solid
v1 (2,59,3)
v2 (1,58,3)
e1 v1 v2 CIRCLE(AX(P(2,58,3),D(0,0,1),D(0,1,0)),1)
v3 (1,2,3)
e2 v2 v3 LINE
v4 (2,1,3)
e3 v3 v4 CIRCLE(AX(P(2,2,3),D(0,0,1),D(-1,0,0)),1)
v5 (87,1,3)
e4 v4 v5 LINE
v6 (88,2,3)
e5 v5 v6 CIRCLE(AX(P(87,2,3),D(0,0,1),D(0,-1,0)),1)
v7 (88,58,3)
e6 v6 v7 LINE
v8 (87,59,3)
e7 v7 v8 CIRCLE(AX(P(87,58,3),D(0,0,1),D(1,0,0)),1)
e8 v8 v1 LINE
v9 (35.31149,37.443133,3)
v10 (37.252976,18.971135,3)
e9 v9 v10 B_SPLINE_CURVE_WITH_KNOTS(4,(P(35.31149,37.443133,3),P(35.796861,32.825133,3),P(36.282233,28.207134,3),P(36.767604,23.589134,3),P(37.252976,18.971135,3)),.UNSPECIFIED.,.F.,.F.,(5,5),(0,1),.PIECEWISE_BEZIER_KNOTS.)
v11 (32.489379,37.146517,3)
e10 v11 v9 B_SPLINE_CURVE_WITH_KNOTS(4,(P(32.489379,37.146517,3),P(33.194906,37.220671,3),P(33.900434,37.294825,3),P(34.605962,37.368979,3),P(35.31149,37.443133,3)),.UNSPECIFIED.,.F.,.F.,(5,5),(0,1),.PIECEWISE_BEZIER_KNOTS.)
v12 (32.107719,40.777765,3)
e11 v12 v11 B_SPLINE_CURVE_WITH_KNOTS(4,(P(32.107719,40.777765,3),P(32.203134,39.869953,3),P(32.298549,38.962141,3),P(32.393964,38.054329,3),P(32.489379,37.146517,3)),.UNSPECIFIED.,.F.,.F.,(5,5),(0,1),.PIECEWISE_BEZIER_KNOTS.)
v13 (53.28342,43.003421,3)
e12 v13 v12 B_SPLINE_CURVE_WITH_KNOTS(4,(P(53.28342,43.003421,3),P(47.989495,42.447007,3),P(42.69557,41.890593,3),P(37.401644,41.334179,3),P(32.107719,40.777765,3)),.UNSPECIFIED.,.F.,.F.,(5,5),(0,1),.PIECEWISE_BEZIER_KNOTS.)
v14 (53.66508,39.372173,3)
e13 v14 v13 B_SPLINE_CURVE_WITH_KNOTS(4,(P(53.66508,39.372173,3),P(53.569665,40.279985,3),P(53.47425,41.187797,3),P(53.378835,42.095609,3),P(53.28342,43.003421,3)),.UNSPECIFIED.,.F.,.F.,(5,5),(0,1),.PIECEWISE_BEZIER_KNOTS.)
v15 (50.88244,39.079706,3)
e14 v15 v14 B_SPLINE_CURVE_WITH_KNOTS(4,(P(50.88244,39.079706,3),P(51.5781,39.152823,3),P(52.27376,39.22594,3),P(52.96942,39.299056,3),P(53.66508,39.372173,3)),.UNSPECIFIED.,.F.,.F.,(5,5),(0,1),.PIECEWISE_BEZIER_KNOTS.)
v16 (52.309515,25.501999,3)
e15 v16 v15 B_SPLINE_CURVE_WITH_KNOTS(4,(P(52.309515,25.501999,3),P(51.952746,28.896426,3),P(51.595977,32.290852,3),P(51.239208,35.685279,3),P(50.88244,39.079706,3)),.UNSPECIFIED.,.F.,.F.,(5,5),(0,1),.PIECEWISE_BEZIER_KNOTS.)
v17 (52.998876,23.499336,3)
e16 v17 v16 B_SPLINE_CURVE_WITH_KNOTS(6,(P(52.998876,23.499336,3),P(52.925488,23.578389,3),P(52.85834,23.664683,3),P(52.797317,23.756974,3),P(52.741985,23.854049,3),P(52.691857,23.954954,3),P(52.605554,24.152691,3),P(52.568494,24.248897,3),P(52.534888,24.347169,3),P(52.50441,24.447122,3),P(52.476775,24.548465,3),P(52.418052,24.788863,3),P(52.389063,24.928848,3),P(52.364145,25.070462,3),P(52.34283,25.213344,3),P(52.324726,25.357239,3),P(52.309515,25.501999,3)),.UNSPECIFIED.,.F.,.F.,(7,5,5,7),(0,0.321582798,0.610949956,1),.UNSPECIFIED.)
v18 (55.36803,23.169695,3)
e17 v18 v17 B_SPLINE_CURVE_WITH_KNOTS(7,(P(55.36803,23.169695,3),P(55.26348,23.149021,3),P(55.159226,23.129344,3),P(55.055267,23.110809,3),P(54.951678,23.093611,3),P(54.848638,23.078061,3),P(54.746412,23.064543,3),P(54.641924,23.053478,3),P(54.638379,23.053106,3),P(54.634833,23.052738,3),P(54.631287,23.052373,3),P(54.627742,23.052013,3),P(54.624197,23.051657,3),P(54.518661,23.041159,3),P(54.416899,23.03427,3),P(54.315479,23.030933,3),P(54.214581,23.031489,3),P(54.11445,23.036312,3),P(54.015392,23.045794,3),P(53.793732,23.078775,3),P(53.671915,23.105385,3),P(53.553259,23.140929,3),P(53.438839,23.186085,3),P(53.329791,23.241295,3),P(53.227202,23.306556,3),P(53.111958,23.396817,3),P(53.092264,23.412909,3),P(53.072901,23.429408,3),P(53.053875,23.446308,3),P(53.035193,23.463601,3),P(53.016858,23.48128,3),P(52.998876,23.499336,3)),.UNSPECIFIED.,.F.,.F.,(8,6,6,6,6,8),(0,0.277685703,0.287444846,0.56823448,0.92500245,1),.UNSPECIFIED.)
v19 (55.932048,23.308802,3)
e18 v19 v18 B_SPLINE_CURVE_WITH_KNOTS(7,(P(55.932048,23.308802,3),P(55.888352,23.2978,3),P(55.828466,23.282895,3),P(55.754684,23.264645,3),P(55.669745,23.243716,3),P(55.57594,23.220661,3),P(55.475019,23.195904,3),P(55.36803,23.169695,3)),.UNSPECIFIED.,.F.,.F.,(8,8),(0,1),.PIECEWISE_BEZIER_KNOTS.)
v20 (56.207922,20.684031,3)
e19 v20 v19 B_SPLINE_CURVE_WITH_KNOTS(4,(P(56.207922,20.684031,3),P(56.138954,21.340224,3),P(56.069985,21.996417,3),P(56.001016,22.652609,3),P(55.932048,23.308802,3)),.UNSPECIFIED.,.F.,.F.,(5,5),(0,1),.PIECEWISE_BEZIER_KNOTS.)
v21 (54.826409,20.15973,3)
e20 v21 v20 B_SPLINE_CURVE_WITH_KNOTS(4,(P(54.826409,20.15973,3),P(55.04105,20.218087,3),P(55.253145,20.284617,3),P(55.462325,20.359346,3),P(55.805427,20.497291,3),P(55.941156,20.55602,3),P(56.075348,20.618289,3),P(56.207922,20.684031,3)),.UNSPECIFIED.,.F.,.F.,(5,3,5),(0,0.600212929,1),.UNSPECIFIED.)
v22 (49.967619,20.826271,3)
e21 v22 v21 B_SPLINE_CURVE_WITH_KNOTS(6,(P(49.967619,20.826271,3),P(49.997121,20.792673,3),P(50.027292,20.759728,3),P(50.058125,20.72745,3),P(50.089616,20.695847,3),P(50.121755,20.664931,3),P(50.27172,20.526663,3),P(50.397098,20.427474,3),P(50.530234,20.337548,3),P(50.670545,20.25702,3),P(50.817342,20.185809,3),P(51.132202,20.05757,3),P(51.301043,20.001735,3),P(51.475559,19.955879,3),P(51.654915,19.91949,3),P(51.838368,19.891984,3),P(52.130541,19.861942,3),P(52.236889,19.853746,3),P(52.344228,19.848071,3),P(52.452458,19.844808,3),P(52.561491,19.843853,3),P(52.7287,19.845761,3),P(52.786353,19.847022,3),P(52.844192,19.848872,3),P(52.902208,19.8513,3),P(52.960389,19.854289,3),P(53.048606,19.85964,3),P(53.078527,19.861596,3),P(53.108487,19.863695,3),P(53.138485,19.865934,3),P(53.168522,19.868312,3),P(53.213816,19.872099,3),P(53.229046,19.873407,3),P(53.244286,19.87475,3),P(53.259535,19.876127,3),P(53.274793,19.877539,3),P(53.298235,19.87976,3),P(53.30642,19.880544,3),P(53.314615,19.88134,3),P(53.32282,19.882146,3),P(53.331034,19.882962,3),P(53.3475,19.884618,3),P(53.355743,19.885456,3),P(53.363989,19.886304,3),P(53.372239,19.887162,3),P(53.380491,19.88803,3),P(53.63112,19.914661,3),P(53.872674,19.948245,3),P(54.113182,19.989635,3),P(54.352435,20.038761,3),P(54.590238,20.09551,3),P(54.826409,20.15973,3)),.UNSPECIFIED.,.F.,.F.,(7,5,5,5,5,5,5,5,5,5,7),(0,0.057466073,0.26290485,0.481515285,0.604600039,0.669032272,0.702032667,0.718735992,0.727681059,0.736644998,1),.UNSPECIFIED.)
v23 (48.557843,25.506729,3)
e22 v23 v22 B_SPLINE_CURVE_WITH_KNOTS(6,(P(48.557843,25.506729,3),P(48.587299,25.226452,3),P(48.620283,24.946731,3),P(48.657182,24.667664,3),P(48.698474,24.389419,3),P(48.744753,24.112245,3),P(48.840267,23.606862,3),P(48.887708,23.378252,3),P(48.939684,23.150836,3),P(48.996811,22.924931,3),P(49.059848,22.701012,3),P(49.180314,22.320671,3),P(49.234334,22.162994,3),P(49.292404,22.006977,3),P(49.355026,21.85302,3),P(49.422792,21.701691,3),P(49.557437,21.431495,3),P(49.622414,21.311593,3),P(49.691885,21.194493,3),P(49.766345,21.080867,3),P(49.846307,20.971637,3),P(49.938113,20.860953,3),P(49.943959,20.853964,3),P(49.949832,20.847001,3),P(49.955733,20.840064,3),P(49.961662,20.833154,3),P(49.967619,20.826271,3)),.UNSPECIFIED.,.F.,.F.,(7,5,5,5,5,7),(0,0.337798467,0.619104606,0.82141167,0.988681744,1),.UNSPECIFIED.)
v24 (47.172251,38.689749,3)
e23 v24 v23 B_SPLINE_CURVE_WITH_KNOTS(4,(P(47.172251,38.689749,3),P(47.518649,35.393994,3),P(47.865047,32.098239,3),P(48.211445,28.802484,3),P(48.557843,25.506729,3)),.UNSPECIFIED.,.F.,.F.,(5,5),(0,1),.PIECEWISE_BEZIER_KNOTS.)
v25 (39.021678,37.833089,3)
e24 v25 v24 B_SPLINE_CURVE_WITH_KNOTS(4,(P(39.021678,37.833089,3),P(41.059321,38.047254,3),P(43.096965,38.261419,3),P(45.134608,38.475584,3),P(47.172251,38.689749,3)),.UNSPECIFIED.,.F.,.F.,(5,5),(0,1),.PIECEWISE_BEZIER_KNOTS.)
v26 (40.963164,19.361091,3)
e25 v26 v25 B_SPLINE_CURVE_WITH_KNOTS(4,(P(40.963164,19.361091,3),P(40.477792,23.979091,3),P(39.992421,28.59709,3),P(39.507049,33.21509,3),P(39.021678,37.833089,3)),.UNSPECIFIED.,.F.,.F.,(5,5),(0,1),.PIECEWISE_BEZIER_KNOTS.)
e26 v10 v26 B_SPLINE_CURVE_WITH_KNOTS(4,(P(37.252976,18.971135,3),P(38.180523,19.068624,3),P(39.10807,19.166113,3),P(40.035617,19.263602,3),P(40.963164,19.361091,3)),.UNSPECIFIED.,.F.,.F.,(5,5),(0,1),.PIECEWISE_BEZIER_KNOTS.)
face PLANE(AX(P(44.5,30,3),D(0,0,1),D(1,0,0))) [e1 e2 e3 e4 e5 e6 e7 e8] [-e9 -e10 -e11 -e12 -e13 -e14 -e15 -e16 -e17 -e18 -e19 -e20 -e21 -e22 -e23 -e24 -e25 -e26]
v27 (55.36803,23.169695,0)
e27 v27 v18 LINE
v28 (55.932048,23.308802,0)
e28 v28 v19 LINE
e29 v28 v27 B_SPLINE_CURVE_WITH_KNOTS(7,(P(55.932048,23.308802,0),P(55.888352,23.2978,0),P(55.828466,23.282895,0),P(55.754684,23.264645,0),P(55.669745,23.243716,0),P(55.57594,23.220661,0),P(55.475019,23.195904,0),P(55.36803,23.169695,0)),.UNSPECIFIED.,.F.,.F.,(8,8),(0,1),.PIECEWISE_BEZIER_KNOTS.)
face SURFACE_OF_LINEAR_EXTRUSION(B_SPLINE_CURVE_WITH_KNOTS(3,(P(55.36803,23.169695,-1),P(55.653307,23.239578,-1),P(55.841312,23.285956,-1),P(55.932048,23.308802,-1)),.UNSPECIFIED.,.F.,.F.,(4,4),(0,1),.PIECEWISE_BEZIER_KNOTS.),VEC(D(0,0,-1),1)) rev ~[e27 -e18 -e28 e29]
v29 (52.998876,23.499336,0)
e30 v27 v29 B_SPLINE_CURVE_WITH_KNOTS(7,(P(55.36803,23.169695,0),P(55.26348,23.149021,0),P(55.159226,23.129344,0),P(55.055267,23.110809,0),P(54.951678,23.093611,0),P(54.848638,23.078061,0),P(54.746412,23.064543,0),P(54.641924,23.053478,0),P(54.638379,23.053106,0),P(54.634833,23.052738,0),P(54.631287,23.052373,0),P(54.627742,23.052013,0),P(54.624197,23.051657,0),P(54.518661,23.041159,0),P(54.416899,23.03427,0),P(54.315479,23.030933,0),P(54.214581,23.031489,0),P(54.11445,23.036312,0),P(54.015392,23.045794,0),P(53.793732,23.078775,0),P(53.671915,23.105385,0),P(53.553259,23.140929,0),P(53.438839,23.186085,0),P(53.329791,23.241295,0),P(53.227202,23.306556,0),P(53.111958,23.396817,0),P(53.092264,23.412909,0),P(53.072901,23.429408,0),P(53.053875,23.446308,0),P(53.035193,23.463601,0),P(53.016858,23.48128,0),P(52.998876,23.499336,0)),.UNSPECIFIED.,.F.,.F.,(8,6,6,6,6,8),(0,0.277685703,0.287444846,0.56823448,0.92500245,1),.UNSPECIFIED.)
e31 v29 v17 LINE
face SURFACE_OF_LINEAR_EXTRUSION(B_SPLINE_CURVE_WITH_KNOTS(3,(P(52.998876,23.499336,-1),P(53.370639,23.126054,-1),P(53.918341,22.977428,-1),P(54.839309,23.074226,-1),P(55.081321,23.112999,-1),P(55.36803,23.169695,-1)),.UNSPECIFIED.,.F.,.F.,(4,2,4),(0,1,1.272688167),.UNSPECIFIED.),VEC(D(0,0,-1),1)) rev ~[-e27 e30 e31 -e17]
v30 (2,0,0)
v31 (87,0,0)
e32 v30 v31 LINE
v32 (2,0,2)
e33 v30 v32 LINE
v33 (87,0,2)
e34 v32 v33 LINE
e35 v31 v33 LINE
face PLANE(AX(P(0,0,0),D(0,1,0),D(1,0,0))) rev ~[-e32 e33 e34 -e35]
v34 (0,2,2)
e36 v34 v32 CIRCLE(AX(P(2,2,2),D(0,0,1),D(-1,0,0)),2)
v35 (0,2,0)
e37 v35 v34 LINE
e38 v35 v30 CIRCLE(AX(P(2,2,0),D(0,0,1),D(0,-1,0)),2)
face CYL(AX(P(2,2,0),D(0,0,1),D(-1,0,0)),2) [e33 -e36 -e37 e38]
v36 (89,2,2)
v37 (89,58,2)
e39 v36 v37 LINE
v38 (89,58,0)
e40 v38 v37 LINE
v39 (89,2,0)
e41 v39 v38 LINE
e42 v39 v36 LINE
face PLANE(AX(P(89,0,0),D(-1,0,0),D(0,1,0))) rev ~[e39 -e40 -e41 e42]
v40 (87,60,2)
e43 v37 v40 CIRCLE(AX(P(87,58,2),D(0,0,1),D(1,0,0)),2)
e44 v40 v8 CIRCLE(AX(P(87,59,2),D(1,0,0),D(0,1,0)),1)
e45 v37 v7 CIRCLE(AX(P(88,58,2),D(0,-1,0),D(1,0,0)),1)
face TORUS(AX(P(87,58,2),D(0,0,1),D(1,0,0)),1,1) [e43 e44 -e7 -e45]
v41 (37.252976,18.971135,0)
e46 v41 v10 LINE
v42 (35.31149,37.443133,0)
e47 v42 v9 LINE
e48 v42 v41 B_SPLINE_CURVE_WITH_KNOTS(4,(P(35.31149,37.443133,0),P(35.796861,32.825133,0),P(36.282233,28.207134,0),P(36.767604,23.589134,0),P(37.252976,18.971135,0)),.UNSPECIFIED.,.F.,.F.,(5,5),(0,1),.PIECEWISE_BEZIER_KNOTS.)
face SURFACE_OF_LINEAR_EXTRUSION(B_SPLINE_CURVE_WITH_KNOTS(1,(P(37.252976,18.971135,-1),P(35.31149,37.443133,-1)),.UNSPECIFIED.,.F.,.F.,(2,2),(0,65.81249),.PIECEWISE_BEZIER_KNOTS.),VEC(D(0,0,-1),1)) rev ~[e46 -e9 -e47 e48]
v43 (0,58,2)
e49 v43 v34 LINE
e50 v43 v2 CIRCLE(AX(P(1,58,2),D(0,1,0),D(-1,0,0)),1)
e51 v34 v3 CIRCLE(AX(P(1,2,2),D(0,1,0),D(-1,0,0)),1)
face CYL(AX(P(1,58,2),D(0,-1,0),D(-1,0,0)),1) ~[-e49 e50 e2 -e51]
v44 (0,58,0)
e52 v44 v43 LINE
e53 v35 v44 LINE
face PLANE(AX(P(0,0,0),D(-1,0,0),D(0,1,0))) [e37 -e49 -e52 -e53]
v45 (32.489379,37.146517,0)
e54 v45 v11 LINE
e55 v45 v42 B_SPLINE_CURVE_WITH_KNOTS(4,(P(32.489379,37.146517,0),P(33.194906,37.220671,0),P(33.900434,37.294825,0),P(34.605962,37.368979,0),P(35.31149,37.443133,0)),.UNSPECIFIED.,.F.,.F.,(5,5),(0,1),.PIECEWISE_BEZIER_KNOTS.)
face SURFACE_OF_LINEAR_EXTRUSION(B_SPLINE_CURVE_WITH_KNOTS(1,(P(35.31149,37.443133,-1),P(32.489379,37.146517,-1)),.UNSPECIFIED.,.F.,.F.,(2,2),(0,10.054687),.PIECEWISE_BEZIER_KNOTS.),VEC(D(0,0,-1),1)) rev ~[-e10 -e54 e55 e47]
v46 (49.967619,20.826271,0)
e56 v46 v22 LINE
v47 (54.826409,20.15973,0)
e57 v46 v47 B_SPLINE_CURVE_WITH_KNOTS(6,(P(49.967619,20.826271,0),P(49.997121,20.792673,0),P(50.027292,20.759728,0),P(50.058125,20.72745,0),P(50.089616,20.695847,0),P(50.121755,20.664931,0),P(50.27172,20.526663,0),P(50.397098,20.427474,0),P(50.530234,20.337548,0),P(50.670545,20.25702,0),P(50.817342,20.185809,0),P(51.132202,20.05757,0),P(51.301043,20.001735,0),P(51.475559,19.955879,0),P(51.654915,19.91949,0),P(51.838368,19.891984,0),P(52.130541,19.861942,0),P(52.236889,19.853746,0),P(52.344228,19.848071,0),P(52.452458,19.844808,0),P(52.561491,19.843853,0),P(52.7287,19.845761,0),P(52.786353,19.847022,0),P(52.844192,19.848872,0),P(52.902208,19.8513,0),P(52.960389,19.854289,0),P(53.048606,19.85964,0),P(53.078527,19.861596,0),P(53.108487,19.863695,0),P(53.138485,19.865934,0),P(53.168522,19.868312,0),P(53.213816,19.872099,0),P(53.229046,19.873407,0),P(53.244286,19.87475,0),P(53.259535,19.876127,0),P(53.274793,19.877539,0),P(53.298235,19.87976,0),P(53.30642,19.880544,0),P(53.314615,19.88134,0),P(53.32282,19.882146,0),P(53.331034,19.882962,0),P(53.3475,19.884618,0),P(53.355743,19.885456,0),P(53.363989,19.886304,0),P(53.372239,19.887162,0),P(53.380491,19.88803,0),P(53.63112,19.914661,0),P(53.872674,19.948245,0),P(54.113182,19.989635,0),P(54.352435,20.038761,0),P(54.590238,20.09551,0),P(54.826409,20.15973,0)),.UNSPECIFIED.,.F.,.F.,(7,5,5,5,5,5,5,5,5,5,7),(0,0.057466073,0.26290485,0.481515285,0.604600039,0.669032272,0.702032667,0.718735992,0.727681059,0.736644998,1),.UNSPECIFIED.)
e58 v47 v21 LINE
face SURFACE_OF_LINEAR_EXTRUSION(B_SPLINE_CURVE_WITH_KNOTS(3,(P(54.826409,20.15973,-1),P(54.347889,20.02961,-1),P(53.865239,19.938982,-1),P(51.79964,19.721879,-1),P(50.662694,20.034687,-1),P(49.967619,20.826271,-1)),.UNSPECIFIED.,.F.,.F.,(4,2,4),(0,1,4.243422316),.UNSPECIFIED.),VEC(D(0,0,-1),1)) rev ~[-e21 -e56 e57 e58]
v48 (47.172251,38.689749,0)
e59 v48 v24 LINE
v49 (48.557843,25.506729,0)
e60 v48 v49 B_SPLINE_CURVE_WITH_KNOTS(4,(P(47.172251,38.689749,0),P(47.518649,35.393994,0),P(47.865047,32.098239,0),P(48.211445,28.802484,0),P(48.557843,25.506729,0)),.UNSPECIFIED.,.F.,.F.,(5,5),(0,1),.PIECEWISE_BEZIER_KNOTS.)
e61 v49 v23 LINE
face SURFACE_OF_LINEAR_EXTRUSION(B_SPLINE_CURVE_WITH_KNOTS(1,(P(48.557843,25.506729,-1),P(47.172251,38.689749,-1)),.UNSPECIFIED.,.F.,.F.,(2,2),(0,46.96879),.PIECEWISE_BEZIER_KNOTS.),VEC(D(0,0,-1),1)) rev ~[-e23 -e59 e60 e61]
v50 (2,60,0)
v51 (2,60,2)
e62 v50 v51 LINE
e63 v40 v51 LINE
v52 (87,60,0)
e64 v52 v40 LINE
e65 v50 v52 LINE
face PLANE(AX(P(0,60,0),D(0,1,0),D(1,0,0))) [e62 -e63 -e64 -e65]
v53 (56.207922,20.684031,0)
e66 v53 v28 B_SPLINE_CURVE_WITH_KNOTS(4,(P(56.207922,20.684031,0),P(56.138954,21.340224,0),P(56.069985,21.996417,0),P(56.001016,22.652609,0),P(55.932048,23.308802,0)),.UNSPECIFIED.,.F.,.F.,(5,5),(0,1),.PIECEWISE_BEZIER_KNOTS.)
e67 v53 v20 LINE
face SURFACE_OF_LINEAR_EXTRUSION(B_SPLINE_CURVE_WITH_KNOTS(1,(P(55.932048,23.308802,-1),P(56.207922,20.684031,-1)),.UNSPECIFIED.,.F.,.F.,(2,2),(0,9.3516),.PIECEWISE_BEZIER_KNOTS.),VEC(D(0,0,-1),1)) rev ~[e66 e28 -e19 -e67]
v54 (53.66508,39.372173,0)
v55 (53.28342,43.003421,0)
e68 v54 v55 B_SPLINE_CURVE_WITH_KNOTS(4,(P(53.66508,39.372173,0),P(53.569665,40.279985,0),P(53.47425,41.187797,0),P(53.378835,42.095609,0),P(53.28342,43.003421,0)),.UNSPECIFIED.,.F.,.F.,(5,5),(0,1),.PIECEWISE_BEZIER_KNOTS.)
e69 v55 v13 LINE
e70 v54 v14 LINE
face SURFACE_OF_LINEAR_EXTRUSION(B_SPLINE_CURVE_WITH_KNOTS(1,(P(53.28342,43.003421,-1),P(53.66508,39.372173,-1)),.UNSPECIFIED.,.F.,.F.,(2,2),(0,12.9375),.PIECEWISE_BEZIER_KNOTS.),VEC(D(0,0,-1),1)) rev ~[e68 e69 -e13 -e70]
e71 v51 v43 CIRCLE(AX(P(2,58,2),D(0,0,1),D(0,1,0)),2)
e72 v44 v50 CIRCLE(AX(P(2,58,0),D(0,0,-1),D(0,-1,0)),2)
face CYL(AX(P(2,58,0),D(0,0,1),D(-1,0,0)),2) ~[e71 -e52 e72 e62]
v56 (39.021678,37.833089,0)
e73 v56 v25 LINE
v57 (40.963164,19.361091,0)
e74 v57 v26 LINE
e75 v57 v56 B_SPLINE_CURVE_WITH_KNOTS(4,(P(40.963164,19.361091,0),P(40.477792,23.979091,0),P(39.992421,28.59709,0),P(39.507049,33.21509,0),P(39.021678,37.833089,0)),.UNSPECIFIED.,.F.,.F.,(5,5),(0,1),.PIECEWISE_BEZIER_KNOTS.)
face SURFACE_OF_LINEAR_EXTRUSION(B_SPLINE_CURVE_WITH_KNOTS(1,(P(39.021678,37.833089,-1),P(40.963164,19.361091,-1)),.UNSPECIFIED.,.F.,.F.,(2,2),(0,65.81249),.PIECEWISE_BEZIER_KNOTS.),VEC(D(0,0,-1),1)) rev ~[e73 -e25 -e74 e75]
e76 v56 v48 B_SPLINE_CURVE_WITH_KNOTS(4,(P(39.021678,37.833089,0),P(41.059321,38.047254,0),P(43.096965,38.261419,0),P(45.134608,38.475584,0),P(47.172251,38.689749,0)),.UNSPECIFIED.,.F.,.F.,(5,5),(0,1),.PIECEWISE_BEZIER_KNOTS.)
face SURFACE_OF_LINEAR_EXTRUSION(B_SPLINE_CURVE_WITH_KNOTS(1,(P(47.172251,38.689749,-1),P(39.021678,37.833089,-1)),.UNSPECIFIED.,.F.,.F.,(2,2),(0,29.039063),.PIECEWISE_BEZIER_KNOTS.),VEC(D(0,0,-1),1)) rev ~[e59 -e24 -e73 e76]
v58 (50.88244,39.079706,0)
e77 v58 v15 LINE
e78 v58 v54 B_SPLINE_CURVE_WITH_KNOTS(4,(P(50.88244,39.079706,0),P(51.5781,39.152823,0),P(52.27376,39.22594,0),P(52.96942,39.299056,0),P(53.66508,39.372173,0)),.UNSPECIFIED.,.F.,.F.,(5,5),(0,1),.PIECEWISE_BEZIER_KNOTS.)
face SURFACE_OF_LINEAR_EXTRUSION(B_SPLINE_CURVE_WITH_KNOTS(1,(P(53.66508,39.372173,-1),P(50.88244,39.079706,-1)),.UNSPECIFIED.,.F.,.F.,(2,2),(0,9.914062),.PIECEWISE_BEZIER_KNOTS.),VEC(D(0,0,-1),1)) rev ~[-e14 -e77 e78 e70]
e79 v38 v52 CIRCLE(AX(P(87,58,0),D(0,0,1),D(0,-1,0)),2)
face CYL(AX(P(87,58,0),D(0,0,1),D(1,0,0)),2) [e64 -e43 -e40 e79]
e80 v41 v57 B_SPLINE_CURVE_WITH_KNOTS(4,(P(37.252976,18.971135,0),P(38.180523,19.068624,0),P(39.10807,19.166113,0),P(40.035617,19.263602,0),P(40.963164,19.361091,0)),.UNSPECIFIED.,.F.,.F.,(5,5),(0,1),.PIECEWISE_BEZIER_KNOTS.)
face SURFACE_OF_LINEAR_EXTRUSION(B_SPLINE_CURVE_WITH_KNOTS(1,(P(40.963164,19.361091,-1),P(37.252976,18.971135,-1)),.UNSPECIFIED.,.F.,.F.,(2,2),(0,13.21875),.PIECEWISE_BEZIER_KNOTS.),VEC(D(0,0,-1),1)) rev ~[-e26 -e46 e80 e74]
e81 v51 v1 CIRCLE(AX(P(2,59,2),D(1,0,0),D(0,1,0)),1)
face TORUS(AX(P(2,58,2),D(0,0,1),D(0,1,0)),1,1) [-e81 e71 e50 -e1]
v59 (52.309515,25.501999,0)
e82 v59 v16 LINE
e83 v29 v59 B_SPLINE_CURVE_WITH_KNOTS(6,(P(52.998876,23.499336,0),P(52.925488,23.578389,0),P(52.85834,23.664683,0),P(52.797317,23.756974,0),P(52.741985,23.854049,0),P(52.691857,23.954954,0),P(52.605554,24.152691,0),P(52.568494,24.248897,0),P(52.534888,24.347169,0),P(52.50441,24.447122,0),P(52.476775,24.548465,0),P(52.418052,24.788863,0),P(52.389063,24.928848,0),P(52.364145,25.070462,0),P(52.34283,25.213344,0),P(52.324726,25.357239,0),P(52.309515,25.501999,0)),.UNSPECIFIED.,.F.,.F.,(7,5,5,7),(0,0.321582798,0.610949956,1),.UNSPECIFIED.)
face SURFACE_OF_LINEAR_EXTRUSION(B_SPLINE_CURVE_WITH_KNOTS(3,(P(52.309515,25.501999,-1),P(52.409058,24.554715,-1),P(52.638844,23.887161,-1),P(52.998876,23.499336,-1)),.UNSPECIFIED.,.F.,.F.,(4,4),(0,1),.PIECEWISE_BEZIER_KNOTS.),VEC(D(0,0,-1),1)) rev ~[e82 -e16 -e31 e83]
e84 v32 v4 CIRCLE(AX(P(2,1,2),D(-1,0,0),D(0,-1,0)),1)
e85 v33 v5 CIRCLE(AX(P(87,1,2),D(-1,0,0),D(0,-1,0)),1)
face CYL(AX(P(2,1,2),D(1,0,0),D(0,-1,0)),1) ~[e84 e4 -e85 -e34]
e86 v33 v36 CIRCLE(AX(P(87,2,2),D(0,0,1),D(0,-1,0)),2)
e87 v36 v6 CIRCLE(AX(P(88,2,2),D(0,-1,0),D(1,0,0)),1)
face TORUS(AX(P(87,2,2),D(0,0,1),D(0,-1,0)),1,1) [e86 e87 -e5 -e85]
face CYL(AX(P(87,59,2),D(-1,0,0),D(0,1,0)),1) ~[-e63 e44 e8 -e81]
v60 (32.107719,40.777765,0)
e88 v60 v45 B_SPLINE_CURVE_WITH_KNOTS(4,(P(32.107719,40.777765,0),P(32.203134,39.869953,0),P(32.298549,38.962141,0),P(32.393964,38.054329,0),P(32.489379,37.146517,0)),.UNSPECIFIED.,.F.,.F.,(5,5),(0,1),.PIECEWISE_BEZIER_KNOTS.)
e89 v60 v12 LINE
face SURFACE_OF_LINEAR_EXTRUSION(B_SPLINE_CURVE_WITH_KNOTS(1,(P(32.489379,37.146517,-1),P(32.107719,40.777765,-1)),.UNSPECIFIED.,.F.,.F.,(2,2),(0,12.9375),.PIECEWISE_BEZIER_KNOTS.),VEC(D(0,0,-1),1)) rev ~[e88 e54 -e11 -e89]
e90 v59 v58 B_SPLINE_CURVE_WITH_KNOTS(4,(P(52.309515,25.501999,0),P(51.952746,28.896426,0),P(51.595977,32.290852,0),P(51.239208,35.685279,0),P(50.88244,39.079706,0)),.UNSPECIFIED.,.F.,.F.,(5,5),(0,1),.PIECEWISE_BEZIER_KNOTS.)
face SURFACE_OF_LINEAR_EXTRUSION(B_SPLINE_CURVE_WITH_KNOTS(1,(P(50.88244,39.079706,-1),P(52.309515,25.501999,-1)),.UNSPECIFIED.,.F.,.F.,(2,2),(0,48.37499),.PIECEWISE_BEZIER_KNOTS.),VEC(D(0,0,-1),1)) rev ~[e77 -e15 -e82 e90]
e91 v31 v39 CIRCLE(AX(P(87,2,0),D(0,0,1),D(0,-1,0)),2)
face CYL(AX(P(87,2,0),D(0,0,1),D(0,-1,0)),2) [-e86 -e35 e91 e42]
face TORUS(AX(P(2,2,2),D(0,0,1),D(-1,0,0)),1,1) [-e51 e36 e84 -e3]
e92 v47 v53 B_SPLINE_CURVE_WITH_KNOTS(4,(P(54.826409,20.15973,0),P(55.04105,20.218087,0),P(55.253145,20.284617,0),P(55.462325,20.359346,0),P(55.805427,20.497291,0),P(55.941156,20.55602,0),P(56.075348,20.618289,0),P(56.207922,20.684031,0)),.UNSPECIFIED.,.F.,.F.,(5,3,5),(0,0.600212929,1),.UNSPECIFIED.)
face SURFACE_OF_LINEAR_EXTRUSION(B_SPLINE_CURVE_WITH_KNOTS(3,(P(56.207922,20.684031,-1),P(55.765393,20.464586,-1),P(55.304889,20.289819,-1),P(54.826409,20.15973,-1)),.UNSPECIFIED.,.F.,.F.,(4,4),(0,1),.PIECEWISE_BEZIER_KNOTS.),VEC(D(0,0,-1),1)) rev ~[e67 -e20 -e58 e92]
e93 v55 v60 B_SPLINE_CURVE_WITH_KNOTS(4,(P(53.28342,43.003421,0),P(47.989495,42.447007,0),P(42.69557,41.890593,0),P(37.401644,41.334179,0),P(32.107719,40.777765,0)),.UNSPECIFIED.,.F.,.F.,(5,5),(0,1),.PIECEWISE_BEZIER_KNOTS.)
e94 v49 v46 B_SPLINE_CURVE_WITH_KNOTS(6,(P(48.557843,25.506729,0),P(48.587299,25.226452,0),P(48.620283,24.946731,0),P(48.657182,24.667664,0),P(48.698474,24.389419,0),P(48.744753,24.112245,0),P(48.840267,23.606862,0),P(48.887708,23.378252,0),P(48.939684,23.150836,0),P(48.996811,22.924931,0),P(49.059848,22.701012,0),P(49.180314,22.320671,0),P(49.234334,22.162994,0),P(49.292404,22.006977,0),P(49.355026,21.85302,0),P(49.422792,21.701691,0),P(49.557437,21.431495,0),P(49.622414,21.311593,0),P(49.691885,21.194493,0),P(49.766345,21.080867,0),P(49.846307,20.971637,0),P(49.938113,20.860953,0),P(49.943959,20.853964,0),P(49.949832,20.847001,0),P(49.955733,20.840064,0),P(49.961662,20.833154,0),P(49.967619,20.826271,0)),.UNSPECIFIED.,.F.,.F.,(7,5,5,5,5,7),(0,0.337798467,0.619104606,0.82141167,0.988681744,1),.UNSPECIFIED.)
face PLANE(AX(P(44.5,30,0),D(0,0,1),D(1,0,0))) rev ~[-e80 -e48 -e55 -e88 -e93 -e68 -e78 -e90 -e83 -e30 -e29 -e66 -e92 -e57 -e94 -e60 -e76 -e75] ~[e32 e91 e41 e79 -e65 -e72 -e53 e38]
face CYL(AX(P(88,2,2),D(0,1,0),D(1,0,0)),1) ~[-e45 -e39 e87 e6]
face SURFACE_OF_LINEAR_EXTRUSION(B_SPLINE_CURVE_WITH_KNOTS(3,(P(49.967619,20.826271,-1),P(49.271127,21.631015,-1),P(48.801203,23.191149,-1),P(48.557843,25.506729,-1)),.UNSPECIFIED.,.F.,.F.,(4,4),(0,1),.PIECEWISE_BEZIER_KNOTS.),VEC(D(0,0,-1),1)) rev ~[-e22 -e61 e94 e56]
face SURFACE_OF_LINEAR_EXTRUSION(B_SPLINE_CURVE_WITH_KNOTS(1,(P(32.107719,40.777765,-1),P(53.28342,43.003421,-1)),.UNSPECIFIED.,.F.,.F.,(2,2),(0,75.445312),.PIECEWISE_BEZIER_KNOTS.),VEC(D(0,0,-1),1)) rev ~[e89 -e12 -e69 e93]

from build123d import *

# Parameters (mm, degrees)
EXTRUDE_DEPTH           = 10
EXTRUDE_PLACEMENT_ANGLE = 6.000002
BOX_W                   = 89
BOX_H                   = 60
BOX_DEPTH               = 3
FILLET_R                = 2
FILLET001_R             = 1


with BuildPart() as extrude_body:
    # path3028 → Extrude (new body)
    with BuildSketch(Plane(origin=(15.82339, -281.713038, 0), x_dir=(0, -1, 0), z_dir=(0, 0, -1))):
        with BuildLine():
            add(Edge.make_bspline(
                [(-11.499453, 10.933906), (-11.499453, -10.358437)],
                knots=[0, 0, 75.445312, 75.445312], degree=1))
            add(Edge.make_bspline(
                [(-11.499453, -10.358437), (-7.848203, -10.358437)],
                knots=[0, 0, 12.9375, 12.9375], degree=1))
            add(Edge.make_bspline(
                [(-7.848203, -10.358437), (-7.848203, -7.560469)],
                knots=[0, 0, 9.914062, 9.914062], degree=1))
            add(Edge.make_bspline(
                [(-7.848203, -7.560469), (5.804294, -7.560469)],
                knots=[0, 0, 48.37499, 48.37499], degree=1))
            add(Edge.make_bspline(
                [(5.804294, -7.560469), (6.756794, -7.560449), (7.44471, -7.719198), (7.868044, -8.036719)],
                knots=[0, 0, 0, 0, 1, 1, 1, 1], degree=3))
            add(Edge.make_bspline(
                [(7.868044, -8.036719), (8.278141, -8.367427), (8.483203, -8.896593), (8.483203, -9.624219)],
                knots=[0, 0, 0, 0, 1, 1, 1, 1], degree=3))
            add(Edge.make_bspline(
                [(8.483203, -9.624219), (8.483203, -9.822634), (8.469939, -10.067373), (8.443523, -10.358437)],
                knots=[0, 0, 0, 0, 1, 1, 1, 1], degree=3))
            add(Edge.make_bspline(
                [(8.443523, -10.358437), (8.403843, -10.649456), (8.37737, -10.841279), (8.364134, -10.933906)],
                knots=[0, 0, 0, 0, 1, 1, 1, 1], degree=3))
            add(Edge.make_bspline(
                [(8.364134, -10.933906), (11.003363, -10.933906)],
                knots=[0, 0, 9.3516, 9.3516], degree=1))
            add(Edge.make_bspline(
                [(11.003363, -10.933906), (11.175349, -10.470863), (11.301023, -9.994613), (11.380384, -9.505156)],
                knots=[0, 0, 0, 0, 1, 1, 1, 1], degree=3))
            add(Edge.make_bspline(
                [(11.380384, -9.505156), (11.459773, -9.015656), (11.499453, -8.526177), (11.499453, -8.036719)],
                knots=[0, 0, 0, 0, 1, 1, 1, 1], degree=3))
            add(Edge.make_bspline(
                [(11.499453, -8.036719), (11.499453, -6.4492), (11.069516, -5.35118), (10.209613, -4.742656)],
                knots=[0, 0, 0, 0, 1, 1, 1, 1], degree=3))
            add(Edge.make_bspline(
                [(10.209613, -4.742656), (9.336474, -4.134098), (7.735766, -3.829827), (5.407433, -3.829844)],
                knots=[0, 0, 0, 0, 1, 1, 1, 1], degree=3))
            add(Edge.make_bspline(
                [(5.407433, -3.829844), (-7.848203, -3.829844)],
                knots=[0, 0, 46.96879, 46.96879], degree=1))
            add(Edge.make_bspline(
                [(-7.848203, -3.829844), (-7.848203, 4.365625)],
                knots=[0, 0, 29.039063, 29.039063], degree=1))
            add(Edge.make_bspline(
                [(-7.848203, 4.365625), (10.725544, 4.365625)],
                knots=[0, 0, 65.81249, 65.81249], degree=1))
            add(Edge.make_bspline(
                [(10.725544, 4.365625), (10.725544, 8.09625)],
                knots=[0, 0, 13.21875, 13.21875], degree=1))
            add(Edge.make_bspline(
                [(10.725544, 8.09625), (-7.848203, 8.09625)],
                knots=[0, 0, 65.81249, 65.81249], degree=1))
            add(Edge.make_bspline(
                [(-7.848203, 8.09625), (-7.848203, 10.933906)],
                knots=[0, 0, 10.054687, 10.054687], degree=1))
            add(Edge.make_bspline(
                [(-7.848203, 10.933906), (-11.499453, 10.933906)],
                knots=[0, 0, 12.9375, 12.9375], degree=1))
        make_face()
    extrude(amount=-EXTRUDE_DEPTH)


with BuildPart() as extrude_body_1:
    # Extrude placement: moved
    add(extrude_body.part.moved(Location((-1, 309, -1))).rotate(Axis((-1, 309, -1), (0, 0, 1)), EXTRUDE_PLACEMENT_ANGLE))


with BuildPart() as fillet001:
    # Box → Box (new body)
    with BuildSketch(Plane.XY):
        with Locations((44.5, 30)):
            Rectangle(BOX_W, BOX_H)
    extrude(amount=BOX_DEPTH)

    # Fillet
    fillet_edges = [fillet001.edges().sort_by_distance(p)[0] for p in [
        (0, 0, 1.5),
        (0, 60, 1.5),
        (89, 0, 1.5),
        (89, 60, 1.5),
    ]]
    fillet(fillet_edges, radius=FILLET_R)

    # Cut: cut Extrude body
    add(extrude_body_1.part, mode=Mode.SUBTRACT)

    # Fillet001
    fillet001_edges = [fillet001.edges().sort_by_distance(p)[0] for p in [
        (0.585786, 0.585786, 3),
        (44.5, 0, 3),
        (0, 30, 3),
        (88.414214, 0.585786, 3),
        (89, 30, 3),
        (88.414214, 59.414214, 3),
        (44.5, 60, 3),
        (0.585786, 59.414214, 3),
    ]]
    fillet(fillet001_edges, radius=FILLET001_R)


solid = fillet001.part
